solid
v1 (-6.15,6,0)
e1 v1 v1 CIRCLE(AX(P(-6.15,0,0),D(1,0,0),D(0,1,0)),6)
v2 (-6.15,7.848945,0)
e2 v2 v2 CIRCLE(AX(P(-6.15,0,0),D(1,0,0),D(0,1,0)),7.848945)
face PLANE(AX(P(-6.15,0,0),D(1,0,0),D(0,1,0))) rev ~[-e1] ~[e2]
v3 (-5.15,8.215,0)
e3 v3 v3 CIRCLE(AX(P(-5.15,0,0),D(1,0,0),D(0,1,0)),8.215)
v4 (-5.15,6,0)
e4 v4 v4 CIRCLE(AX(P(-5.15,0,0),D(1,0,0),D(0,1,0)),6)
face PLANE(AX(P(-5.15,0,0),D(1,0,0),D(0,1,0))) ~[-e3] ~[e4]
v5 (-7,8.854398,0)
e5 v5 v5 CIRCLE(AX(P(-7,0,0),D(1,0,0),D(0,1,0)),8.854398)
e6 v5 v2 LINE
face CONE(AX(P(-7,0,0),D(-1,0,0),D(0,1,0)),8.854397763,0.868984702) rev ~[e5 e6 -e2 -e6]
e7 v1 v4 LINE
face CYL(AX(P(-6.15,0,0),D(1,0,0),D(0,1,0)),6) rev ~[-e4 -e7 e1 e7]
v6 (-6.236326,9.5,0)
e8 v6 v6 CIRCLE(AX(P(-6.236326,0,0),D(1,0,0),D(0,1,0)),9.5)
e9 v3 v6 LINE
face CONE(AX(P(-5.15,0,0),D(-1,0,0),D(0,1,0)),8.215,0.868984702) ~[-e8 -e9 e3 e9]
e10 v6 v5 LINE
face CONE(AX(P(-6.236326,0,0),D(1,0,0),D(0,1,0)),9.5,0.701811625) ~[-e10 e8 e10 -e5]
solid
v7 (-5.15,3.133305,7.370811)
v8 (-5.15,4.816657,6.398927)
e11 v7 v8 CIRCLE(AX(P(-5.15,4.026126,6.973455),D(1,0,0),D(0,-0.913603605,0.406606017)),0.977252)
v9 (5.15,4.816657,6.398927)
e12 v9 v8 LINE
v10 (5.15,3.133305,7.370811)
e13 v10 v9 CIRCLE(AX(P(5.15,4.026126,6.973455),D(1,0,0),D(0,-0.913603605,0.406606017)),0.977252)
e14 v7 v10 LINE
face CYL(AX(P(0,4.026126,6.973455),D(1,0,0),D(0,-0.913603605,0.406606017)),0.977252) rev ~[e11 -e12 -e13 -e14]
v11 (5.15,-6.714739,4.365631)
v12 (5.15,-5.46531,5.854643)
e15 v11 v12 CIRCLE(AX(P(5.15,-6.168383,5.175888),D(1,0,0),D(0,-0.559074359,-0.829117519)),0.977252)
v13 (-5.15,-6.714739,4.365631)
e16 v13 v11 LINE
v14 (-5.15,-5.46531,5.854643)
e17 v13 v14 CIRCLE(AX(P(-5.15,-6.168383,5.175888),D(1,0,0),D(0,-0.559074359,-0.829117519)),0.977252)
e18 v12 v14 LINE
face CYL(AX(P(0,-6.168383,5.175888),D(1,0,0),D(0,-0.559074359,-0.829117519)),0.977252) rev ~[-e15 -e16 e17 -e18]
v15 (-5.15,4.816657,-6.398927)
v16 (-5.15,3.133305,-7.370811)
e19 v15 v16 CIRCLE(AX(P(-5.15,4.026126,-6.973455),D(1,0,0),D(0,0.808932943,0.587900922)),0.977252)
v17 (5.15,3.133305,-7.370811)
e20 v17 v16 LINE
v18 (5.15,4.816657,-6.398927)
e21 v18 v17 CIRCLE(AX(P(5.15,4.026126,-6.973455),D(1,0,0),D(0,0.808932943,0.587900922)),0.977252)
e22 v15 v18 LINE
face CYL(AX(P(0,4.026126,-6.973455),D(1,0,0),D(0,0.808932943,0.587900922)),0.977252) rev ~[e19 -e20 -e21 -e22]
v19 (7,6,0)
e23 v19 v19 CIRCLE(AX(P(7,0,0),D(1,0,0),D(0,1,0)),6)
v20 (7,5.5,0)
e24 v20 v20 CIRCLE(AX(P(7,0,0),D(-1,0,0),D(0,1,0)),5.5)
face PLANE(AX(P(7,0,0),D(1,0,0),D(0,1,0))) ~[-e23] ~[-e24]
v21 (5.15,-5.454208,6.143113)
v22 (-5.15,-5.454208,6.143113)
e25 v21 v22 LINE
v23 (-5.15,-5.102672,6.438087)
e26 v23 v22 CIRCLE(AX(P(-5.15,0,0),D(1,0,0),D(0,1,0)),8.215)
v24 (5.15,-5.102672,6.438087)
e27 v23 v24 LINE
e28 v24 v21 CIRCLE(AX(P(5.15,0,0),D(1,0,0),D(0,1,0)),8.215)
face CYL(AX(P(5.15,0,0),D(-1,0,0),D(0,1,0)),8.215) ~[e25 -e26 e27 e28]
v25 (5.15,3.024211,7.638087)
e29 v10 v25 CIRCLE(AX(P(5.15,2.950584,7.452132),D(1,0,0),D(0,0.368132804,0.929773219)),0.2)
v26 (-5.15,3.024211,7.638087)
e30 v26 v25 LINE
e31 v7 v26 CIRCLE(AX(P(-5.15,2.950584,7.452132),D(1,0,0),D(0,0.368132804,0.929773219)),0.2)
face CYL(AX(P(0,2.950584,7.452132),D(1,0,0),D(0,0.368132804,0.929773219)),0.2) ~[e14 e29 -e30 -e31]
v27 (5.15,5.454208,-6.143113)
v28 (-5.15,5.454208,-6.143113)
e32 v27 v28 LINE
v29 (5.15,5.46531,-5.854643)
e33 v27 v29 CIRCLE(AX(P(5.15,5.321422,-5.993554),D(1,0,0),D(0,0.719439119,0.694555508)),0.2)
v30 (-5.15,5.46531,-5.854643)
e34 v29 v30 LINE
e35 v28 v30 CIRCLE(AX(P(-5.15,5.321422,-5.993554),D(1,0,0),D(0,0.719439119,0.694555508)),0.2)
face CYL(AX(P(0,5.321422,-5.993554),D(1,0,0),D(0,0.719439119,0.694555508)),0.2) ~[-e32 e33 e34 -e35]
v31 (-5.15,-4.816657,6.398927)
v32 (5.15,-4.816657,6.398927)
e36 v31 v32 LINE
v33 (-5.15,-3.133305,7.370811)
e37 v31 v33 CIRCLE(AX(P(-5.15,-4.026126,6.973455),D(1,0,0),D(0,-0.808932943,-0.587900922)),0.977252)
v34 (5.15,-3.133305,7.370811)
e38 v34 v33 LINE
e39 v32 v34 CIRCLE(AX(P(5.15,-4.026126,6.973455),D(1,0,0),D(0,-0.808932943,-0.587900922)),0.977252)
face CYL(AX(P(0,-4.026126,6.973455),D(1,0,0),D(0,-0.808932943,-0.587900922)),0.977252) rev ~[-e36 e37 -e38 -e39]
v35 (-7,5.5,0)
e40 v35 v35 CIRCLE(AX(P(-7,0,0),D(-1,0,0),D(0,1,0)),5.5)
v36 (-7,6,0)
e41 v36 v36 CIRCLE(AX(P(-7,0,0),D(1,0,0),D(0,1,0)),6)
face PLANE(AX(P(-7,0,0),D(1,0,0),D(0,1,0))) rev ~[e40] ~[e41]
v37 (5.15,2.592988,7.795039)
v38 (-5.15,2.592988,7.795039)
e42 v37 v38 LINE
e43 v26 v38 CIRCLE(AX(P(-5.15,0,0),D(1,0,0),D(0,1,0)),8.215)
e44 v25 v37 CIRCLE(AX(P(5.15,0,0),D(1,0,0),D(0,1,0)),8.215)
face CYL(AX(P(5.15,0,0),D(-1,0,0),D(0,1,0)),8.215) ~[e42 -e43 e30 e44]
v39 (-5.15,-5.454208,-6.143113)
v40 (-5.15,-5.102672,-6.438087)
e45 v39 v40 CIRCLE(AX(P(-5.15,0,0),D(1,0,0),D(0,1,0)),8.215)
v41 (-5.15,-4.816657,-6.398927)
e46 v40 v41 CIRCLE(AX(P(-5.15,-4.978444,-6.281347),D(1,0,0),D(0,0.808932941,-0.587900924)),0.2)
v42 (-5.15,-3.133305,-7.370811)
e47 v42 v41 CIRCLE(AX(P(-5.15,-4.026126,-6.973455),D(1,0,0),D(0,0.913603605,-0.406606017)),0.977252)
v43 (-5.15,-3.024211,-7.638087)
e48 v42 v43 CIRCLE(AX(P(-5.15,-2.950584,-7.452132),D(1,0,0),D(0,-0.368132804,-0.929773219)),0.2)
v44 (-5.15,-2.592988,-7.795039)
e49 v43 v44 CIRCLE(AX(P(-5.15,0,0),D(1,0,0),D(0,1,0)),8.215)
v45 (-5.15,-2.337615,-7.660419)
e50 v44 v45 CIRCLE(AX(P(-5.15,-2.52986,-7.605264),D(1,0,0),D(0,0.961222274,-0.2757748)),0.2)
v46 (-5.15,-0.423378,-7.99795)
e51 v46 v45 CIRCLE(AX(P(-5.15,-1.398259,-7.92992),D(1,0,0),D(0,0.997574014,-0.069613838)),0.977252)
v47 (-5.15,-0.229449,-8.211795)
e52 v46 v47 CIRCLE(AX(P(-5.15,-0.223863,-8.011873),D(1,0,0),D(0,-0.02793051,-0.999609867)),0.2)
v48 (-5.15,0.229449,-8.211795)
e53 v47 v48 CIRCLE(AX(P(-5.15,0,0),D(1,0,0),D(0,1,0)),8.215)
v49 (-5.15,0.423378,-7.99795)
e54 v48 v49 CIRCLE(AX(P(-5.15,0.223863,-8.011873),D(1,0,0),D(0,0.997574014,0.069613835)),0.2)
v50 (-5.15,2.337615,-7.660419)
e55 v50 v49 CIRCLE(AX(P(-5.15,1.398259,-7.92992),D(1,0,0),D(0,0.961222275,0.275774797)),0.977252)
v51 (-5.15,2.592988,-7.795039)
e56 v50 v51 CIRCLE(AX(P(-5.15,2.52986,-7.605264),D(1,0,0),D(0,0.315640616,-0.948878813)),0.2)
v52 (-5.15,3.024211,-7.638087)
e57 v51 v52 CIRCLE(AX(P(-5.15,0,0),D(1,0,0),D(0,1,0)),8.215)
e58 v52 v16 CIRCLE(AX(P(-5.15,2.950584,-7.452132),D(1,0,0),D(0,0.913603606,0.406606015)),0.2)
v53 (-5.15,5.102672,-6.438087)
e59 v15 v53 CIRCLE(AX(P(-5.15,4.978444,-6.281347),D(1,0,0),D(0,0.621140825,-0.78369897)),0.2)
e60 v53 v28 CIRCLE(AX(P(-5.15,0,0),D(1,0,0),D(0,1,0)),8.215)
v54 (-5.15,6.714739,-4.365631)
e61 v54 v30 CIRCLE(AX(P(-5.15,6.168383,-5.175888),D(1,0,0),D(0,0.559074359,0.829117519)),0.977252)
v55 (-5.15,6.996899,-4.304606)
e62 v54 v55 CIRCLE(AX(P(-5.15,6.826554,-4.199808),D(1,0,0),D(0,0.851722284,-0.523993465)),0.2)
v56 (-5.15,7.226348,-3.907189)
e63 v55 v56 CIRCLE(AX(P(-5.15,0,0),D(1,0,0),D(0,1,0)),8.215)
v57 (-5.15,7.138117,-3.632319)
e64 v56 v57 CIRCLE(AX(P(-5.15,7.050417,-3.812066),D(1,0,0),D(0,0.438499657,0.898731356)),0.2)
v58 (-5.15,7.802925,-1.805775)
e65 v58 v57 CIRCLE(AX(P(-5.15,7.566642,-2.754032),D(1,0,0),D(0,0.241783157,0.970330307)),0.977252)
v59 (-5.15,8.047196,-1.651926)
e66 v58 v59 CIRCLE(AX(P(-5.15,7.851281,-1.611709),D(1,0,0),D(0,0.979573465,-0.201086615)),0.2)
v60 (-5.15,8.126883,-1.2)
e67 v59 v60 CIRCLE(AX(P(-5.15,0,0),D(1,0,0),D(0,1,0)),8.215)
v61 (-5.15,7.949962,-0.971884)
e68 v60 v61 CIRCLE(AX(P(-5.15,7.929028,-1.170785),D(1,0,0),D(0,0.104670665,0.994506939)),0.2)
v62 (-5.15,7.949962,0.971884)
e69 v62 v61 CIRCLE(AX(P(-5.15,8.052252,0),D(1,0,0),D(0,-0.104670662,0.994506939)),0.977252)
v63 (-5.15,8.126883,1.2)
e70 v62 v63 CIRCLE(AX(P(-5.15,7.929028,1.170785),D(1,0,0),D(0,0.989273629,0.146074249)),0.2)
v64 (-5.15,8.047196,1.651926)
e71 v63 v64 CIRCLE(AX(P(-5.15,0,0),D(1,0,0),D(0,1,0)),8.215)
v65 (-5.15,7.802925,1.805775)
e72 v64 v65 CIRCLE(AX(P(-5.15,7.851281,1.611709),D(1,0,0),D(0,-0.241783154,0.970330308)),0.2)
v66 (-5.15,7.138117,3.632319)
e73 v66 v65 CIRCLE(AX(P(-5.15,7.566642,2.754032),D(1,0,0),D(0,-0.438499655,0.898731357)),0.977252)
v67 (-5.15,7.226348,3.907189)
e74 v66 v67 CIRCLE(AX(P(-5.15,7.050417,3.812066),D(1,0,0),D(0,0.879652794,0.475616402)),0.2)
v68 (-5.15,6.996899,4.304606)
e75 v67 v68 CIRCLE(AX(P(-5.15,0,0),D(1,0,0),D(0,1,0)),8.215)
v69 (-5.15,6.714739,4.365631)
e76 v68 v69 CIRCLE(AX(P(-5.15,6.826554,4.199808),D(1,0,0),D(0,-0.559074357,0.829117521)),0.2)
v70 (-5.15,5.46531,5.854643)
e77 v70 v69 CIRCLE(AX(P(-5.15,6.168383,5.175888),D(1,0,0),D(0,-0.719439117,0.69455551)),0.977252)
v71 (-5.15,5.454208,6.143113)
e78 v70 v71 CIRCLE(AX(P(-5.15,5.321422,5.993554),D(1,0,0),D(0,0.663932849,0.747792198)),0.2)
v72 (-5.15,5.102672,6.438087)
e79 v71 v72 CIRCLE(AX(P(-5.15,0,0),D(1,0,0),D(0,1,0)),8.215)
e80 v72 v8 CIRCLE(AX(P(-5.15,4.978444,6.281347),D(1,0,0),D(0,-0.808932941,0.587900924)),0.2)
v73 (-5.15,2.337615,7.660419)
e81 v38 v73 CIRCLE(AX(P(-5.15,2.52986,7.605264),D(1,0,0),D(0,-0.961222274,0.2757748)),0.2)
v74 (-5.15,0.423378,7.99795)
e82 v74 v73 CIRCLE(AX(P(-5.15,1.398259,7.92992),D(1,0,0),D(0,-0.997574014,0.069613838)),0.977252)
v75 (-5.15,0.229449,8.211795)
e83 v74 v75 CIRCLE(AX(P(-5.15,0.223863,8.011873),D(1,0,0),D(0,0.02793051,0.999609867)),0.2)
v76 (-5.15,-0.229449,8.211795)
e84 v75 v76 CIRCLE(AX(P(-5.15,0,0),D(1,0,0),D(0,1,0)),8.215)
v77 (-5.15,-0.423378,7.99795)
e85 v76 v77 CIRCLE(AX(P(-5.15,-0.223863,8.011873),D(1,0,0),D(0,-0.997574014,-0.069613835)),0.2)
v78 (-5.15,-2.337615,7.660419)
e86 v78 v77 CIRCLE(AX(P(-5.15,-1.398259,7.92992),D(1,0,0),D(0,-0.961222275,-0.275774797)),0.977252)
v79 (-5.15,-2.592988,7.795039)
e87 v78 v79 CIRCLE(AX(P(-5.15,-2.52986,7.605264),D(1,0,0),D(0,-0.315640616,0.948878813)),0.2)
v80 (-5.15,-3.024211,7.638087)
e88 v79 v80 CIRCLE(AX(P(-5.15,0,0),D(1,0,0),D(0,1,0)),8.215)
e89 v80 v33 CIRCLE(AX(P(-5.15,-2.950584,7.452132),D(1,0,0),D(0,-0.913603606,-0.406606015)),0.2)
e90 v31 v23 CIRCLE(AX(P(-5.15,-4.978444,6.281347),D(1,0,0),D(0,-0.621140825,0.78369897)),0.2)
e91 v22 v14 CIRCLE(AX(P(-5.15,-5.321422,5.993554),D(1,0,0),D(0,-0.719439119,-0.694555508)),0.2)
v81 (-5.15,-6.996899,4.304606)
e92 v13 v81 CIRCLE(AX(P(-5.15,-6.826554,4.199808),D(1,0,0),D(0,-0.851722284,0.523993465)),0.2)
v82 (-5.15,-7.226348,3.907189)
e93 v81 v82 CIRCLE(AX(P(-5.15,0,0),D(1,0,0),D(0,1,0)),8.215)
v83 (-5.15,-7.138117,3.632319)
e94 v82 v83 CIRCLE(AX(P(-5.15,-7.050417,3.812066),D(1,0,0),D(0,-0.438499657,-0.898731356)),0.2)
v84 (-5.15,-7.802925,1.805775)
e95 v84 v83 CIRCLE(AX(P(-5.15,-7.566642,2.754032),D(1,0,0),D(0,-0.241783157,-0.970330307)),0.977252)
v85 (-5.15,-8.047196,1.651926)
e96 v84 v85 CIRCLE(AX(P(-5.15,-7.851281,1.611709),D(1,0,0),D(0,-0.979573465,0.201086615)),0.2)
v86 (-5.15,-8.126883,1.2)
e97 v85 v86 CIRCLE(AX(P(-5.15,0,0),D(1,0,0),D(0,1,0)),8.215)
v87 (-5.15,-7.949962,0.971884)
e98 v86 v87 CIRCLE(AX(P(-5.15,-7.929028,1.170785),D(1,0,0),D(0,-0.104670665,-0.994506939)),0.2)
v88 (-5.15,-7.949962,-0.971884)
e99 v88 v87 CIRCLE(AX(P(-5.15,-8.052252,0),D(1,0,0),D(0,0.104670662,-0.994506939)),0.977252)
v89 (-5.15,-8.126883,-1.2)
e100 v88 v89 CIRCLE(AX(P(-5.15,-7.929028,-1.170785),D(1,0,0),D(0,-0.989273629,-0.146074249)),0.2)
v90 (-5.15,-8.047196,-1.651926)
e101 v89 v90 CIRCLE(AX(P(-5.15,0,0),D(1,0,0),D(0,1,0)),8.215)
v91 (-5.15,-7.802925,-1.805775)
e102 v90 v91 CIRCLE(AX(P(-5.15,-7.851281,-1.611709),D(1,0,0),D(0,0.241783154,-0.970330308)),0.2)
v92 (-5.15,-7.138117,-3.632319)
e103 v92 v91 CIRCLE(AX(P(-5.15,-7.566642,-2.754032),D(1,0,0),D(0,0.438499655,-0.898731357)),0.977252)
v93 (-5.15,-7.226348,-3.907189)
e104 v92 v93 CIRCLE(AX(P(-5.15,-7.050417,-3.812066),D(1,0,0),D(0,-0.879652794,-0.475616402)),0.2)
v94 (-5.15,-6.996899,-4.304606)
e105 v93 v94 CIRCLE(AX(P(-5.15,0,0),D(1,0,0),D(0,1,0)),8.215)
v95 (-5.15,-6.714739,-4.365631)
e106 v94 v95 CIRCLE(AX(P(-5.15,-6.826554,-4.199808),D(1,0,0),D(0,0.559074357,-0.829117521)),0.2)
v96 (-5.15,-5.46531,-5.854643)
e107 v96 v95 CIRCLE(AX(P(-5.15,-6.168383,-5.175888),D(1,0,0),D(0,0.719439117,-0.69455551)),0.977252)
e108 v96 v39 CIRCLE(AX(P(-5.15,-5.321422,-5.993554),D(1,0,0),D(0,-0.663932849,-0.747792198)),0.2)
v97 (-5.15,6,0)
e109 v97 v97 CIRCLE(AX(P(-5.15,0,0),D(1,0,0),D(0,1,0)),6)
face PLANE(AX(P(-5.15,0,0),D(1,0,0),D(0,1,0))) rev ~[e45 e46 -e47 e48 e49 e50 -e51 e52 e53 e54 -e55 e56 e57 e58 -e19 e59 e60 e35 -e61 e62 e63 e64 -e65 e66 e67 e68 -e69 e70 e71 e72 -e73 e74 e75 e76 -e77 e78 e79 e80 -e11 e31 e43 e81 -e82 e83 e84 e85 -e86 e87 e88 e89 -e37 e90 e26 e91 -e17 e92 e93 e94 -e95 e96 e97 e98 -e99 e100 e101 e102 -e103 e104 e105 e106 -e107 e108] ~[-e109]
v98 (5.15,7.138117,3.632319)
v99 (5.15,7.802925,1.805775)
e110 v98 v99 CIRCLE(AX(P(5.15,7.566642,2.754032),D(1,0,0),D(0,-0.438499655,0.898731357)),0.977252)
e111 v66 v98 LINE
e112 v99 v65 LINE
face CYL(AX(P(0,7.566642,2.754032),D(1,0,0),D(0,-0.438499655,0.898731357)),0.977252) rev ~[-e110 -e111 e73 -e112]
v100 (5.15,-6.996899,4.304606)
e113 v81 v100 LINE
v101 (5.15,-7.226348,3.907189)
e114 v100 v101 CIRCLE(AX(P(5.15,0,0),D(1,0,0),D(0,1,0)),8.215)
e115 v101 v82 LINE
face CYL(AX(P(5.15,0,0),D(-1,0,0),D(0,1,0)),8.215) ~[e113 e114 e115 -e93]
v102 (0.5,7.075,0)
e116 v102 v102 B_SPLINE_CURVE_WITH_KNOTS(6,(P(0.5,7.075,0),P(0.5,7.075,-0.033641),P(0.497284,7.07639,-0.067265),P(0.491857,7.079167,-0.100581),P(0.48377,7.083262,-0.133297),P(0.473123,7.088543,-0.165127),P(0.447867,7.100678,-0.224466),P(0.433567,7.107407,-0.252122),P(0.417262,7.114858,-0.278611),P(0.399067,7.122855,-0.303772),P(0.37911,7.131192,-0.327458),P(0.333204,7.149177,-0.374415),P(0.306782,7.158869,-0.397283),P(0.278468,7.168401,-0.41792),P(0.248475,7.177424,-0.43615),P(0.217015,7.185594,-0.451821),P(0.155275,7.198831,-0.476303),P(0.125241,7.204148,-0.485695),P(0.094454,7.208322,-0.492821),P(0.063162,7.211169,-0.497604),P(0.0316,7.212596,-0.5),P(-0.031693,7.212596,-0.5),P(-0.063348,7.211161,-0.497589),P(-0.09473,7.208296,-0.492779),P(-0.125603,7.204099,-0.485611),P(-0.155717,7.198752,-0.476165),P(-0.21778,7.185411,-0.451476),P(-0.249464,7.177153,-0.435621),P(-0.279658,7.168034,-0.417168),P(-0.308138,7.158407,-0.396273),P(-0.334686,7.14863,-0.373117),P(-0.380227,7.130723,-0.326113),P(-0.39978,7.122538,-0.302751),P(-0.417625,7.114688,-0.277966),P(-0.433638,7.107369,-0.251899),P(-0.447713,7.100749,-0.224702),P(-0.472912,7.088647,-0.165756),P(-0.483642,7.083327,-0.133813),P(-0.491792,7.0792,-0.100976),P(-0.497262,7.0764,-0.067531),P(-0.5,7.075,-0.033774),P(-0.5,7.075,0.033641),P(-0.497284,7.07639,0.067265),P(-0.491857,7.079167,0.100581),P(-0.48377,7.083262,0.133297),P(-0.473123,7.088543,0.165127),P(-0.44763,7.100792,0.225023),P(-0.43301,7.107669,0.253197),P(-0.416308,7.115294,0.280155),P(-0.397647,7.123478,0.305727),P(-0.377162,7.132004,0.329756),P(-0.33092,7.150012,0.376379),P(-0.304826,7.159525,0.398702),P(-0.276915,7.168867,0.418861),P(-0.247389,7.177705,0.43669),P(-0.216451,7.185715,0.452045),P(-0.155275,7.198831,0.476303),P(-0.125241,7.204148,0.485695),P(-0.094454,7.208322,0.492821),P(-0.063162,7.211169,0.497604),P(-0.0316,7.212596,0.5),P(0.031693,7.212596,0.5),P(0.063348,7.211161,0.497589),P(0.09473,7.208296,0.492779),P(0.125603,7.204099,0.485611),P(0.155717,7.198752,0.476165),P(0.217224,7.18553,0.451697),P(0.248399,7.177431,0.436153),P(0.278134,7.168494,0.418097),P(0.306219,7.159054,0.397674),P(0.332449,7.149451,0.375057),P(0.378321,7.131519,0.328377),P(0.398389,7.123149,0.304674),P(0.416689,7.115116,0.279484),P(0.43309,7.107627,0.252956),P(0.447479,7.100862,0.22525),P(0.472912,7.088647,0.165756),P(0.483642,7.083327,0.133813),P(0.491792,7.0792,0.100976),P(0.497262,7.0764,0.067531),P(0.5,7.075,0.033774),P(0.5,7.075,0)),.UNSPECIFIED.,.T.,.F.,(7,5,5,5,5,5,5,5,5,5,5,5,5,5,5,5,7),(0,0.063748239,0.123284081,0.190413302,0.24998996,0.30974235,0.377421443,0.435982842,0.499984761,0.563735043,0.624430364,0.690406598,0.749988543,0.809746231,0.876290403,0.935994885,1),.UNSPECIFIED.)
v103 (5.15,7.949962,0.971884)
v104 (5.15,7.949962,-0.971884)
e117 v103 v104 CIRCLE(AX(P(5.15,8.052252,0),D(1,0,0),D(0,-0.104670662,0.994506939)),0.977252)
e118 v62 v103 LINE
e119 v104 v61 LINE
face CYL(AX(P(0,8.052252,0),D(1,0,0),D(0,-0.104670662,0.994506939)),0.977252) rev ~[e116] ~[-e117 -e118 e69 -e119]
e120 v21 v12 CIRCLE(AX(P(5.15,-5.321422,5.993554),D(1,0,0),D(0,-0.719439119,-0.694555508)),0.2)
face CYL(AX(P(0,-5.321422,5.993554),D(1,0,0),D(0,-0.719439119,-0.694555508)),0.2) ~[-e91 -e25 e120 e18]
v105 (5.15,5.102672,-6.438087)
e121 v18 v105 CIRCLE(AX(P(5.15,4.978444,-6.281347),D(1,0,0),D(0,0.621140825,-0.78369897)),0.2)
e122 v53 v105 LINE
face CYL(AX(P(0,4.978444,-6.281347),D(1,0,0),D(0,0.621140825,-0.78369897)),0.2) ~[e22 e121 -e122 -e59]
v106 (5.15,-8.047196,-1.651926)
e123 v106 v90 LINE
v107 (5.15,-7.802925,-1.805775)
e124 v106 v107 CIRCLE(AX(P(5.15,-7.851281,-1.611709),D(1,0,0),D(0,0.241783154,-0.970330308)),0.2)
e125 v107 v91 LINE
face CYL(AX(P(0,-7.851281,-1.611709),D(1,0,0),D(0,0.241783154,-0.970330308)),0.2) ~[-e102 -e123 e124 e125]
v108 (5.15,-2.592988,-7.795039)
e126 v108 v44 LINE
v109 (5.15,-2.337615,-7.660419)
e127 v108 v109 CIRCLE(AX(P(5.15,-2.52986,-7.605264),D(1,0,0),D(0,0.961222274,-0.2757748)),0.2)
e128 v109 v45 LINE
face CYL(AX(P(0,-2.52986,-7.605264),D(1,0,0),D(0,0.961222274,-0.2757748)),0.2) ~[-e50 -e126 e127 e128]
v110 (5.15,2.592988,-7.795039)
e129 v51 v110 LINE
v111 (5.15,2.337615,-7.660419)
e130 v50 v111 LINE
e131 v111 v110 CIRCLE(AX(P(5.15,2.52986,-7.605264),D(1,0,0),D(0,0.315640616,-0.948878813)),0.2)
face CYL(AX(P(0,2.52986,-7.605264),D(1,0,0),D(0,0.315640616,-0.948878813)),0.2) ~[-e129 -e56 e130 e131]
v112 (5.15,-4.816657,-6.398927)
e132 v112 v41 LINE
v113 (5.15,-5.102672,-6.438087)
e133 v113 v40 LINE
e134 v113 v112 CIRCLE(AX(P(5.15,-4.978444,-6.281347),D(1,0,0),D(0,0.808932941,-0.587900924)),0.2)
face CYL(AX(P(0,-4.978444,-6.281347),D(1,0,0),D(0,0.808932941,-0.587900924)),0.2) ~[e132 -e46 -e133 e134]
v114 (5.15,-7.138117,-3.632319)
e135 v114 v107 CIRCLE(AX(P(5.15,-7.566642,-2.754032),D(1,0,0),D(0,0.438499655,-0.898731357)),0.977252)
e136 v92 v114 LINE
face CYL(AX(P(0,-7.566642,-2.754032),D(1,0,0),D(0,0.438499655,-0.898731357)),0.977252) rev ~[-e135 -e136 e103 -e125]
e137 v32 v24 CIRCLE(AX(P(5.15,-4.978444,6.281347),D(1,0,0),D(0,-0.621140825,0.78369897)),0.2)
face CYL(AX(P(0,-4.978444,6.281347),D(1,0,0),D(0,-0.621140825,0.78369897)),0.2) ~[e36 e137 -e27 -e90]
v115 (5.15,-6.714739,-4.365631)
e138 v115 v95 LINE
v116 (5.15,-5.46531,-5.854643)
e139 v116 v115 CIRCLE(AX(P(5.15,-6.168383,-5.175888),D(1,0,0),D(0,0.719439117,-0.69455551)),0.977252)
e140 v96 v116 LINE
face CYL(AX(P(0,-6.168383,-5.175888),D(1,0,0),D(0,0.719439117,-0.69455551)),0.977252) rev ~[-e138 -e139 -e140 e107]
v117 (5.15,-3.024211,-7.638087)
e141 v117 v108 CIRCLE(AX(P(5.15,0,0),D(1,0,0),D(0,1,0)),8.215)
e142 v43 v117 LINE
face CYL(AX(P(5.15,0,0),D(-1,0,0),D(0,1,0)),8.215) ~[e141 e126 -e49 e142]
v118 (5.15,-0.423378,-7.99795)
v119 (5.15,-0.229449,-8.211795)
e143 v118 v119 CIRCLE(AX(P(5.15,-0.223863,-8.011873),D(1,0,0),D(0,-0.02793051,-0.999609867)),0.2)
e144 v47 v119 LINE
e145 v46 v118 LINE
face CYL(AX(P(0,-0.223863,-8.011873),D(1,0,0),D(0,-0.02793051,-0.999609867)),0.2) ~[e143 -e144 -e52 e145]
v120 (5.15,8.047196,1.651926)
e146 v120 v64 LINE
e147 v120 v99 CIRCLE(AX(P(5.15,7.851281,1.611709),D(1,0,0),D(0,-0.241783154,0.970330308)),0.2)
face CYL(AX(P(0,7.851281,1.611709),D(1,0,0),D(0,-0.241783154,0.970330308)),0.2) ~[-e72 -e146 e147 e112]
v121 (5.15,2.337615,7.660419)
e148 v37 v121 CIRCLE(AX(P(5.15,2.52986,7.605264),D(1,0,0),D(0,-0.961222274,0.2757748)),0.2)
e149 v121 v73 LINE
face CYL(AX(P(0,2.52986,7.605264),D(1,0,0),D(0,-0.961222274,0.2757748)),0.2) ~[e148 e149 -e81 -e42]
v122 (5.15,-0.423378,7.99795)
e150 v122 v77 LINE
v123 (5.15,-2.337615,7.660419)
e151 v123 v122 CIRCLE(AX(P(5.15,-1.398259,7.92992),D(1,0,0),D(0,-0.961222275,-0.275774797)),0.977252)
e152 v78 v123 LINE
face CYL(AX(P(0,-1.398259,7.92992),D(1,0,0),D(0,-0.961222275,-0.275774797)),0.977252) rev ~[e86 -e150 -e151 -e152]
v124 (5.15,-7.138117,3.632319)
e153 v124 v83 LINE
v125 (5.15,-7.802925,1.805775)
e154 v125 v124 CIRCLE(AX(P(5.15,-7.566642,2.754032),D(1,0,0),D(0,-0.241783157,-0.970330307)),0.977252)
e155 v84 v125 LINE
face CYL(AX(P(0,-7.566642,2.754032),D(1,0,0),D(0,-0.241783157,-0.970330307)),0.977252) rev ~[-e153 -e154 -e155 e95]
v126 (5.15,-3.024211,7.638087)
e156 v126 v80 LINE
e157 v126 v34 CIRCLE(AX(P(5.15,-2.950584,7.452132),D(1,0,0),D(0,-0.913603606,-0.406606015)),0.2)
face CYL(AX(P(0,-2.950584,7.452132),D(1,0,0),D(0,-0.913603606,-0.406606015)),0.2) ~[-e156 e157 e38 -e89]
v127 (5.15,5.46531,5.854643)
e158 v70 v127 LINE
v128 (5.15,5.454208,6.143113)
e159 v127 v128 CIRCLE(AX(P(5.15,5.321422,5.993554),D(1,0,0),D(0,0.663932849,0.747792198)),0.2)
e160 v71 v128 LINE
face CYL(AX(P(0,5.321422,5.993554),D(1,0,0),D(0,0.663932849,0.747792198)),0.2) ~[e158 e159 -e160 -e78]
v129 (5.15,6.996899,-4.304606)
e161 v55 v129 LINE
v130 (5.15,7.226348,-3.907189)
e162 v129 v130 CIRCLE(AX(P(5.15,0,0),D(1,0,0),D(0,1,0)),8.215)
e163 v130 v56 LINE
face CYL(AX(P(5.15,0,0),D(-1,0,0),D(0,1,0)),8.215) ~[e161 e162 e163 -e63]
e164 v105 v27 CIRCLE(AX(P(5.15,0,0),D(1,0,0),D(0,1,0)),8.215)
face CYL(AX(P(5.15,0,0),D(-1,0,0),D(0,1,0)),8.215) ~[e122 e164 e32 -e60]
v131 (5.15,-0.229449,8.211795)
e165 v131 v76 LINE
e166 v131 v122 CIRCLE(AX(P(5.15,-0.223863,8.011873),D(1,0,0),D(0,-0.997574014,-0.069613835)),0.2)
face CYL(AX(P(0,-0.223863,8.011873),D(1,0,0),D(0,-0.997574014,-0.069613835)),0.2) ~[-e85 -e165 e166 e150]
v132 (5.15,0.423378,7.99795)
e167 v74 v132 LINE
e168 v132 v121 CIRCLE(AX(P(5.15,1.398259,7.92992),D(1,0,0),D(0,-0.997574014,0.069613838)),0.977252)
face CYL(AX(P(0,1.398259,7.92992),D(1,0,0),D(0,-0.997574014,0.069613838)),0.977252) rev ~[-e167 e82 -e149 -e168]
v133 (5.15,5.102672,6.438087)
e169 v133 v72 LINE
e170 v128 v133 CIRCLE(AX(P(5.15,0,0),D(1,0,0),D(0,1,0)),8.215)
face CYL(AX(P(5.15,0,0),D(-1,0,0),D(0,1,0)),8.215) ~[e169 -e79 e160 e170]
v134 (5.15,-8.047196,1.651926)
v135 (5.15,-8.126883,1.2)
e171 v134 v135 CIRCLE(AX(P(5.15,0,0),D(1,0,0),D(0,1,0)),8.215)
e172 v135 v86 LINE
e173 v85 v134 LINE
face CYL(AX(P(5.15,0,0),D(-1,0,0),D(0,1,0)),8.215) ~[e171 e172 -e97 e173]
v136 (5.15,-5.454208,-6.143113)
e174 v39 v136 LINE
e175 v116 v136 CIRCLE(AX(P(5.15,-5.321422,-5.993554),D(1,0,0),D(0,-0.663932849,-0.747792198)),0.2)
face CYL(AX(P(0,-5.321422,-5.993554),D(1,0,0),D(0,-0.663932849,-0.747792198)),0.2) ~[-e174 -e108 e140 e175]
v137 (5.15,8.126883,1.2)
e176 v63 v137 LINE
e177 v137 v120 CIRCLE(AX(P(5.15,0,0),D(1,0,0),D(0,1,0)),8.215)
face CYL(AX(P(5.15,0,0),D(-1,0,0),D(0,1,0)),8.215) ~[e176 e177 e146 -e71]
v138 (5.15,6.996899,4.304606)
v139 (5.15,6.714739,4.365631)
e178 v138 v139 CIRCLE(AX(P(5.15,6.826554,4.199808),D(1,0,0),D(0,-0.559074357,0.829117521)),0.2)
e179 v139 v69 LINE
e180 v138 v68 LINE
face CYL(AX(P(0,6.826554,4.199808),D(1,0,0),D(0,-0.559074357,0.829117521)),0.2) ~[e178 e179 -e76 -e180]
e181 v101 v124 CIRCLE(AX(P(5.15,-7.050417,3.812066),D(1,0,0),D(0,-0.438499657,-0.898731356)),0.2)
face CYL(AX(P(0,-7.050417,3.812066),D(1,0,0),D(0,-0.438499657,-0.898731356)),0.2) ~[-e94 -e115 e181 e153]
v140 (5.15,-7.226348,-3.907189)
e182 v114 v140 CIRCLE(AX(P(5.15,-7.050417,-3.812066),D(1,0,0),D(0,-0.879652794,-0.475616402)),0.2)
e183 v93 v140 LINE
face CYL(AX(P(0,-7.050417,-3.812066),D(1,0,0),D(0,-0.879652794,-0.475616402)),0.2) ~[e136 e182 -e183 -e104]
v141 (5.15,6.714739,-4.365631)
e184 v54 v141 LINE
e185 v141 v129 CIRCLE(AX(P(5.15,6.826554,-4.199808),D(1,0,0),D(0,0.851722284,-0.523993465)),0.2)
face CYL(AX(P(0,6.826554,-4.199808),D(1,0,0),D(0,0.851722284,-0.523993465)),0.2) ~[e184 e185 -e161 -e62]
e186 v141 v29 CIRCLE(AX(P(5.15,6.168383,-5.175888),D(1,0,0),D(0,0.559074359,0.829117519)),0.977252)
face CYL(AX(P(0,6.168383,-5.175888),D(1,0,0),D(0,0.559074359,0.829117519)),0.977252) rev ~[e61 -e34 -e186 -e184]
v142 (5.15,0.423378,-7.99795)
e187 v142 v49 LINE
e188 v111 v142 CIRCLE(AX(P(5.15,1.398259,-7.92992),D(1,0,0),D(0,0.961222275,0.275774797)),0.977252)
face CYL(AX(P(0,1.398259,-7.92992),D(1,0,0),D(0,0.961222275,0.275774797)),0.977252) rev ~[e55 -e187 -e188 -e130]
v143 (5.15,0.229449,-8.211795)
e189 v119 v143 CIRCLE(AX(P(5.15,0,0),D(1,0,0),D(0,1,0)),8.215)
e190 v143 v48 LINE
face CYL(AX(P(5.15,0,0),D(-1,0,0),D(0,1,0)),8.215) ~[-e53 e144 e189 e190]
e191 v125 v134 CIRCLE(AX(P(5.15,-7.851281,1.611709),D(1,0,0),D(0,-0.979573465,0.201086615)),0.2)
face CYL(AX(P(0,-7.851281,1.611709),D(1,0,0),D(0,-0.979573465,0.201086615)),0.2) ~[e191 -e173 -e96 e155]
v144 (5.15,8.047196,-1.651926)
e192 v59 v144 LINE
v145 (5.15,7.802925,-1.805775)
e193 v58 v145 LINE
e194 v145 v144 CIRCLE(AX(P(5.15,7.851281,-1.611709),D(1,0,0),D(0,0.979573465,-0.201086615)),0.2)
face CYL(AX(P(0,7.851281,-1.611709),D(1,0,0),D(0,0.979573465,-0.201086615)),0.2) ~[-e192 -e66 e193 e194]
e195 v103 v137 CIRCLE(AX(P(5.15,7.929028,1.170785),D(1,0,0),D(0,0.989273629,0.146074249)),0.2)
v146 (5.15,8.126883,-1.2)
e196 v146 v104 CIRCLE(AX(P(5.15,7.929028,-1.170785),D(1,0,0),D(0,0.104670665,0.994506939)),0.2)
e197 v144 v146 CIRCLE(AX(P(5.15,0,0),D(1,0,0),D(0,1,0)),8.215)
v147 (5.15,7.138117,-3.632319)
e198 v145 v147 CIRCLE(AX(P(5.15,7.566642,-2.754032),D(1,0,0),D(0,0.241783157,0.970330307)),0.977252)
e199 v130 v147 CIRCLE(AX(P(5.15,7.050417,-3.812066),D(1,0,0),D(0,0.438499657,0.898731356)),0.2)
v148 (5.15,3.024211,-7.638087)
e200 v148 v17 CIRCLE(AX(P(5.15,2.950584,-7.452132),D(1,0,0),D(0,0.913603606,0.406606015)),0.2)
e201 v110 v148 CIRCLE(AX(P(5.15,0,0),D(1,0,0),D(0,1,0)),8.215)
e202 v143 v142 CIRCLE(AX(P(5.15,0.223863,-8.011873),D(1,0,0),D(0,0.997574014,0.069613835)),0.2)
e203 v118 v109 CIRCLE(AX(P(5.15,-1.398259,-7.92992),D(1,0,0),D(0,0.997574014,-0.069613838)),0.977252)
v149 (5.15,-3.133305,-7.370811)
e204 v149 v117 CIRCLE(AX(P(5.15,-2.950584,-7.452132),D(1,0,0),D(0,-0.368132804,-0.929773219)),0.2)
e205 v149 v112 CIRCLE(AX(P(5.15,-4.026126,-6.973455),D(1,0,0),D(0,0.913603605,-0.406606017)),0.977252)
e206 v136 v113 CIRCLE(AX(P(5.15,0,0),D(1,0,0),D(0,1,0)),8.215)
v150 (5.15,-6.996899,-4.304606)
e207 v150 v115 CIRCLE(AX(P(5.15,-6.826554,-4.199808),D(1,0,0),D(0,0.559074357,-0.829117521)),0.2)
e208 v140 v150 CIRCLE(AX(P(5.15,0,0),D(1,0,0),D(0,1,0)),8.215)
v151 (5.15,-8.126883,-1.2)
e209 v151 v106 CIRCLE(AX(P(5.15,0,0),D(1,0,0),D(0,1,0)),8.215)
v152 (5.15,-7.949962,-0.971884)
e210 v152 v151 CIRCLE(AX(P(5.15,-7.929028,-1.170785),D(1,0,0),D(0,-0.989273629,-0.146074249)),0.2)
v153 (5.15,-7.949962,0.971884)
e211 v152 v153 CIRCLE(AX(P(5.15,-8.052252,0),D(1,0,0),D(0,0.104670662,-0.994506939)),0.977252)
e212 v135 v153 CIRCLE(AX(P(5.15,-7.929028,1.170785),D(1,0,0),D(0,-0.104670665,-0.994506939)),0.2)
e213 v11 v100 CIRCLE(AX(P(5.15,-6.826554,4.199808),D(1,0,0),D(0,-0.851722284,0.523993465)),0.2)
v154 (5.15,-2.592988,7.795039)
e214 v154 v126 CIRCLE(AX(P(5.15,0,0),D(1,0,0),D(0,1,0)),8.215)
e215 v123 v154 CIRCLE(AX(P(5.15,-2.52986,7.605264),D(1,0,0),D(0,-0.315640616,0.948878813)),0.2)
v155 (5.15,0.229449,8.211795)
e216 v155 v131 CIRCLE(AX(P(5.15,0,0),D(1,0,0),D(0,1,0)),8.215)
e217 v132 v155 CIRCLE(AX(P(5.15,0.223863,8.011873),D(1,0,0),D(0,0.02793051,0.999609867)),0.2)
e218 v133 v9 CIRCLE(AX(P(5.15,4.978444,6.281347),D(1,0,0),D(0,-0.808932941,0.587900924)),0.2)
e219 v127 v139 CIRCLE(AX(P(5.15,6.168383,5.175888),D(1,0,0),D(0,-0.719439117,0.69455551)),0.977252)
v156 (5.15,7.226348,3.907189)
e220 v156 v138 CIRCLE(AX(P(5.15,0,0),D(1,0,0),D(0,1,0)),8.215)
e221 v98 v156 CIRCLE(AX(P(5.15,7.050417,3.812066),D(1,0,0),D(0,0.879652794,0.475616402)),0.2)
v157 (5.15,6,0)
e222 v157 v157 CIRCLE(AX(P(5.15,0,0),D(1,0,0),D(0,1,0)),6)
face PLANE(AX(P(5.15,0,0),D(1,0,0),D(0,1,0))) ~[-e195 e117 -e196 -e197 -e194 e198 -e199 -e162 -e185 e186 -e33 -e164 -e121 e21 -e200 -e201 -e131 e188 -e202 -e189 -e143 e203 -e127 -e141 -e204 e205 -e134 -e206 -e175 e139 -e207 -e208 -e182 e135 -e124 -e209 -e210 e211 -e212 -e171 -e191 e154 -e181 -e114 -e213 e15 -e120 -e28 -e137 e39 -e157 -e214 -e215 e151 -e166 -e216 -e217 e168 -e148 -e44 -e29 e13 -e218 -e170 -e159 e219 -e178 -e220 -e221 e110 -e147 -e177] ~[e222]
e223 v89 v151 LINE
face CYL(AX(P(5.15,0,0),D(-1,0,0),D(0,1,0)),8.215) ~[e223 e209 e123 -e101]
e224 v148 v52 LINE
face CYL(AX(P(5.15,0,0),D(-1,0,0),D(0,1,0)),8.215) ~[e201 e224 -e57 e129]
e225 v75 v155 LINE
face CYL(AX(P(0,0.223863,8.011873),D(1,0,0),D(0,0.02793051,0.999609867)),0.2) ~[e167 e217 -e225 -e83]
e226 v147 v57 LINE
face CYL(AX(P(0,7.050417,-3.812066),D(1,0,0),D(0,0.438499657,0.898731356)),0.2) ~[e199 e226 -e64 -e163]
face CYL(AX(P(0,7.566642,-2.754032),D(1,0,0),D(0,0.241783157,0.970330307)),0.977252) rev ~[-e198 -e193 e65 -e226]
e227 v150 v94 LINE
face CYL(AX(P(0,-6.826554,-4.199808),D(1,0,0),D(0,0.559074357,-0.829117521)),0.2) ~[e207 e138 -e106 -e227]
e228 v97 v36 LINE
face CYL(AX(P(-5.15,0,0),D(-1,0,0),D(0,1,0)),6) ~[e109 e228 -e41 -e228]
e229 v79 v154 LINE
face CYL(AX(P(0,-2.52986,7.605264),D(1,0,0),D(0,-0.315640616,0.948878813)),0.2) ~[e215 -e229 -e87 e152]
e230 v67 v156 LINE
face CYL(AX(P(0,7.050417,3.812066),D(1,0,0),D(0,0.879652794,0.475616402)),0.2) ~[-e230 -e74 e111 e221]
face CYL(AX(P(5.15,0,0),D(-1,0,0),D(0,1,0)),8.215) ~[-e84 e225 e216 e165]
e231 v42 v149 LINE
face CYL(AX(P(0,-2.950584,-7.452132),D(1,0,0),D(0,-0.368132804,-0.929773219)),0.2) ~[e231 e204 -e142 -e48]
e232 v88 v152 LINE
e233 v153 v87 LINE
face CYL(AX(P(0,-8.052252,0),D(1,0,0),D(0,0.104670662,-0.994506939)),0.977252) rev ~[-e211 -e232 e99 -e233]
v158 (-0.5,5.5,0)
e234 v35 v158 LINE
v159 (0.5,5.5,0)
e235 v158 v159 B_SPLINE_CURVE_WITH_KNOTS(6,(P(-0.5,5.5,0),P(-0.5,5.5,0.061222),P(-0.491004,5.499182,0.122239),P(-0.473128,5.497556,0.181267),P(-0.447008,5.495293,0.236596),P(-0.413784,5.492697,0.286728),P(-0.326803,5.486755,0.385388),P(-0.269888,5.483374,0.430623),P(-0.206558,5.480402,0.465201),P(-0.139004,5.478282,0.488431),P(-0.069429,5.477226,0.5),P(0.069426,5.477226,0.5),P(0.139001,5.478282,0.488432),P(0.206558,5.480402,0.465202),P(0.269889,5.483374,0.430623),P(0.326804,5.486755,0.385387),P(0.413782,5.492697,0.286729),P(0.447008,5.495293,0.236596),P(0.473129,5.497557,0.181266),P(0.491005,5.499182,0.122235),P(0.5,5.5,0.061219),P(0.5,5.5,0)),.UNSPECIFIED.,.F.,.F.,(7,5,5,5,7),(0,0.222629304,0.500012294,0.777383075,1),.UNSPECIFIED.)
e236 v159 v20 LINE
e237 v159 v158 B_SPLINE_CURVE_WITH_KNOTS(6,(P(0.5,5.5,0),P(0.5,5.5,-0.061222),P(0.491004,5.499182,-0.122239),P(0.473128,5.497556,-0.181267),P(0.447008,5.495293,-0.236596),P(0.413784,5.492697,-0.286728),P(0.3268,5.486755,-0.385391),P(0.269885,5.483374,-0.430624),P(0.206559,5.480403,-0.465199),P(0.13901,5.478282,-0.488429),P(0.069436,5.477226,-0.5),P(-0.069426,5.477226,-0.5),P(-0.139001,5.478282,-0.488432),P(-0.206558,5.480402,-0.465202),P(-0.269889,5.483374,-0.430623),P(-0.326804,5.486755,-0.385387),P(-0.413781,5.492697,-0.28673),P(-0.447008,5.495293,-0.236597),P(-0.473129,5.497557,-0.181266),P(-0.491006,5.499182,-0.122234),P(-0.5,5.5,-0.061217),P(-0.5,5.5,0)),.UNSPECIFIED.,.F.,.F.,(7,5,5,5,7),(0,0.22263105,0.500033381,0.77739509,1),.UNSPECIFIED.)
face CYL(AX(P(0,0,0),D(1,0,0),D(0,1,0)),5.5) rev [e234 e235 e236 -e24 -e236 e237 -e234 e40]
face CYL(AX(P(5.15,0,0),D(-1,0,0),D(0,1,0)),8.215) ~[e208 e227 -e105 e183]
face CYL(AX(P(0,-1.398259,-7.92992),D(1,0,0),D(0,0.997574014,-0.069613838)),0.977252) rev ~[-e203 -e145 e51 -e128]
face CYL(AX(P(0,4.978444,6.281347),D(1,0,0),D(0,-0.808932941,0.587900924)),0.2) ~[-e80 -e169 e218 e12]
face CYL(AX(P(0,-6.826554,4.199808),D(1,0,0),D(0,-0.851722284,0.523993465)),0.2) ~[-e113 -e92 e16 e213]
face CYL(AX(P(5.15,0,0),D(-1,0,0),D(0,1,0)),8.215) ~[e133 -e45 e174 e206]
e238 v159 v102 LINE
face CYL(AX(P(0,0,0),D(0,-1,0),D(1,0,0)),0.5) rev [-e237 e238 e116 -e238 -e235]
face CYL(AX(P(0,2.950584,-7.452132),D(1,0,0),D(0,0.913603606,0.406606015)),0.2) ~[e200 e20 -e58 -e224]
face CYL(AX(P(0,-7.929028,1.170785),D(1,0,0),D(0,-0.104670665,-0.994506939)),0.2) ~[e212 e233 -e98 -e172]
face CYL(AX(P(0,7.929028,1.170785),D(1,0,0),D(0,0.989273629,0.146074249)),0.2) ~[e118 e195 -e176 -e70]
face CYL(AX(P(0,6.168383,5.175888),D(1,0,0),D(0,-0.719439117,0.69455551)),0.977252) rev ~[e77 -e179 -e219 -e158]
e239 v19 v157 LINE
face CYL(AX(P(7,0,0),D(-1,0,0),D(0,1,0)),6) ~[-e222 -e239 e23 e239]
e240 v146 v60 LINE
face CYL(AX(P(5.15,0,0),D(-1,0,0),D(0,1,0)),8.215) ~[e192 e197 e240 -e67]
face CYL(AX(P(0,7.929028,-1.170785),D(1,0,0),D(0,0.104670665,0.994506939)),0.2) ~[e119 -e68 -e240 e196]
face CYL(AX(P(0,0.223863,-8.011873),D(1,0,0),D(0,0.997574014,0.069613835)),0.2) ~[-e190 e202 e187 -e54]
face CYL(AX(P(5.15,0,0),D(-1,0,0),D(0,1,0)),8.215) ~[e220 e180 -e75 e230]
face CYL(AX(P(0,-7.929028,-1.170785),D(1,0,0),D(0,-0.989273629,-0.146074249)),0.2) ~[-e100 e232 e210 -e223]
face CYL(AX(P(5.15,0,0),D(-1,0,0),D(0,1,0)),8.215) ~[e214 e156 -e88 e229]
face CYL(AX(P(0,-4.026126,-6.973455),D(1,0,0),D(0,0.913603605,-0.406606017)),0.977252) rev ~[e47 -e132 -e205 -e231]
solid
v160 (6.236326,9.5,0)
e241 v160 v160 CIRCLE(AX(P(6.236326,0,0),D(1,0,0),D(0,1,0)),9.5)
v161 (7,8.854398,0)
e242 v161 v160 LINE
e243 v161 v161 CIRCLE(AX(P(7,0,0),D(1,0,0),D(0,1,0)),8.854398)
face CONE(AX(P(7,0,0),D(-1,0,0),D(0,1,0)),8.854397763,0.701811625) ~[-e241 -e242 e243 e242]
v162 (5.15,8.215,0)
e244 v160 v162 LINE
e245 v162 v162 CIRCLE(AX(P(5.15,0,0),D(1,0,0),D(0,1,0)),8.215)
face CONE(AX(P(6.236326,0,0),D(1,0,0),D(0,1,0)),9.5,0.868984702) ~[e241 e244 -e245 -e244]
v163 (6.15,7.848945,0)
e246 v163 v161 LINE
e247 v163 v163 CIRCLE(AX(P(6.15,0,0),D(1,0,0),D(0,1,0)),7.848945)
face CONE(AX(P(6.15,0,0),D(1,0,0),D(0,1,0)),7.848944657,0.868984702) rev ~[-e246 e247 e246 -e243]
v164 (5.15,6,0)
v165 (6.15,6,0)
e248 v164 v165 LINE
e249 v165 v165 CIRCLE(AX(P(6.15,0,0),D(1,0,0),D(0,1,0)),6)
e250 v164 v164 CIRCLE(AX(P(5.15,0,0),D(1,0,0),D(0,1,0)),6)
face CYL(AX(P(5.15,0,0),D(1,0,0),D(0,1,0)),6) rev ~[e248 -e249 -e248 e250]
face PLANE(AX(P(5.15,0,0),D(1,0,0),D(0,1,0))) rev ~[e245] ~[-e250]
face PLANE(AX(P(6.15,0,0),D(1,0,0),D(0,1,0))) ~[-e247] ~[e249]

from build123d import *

# Parameters (mm, degrees)
CUT_EXTRUDE1_DEPTH = 8
CIRPATTERN1_COUNT  = 18
SKETCH4_W          = 14
SKETCH4_H          = 5.5
SKETCH5_R          = 0.5
CUT_EXTRUDE2_DEPTH = 10.5


with BuildPart() as part:
    # Sketch1 → Revolve1 (revolve)
    with BuildSketch(Plane.XY):
        Polygon((-7, 4), (7, 4), (7, 6), (5.15, 6), (5.15, 8.215), (-5.15, 8.215), (-5.15, 6), (-7, 6), align=None)
    revolve(axis=Axis((-16.041522885, 0, 0), (1, 0, 0)))

    # Sketch2 → Cut-Extrude1 (cut, symmetric)
    with BuildSketch(Plane(origin=(0, 0, 0), x_dir=(0, 0, -1), z_dir=(1, 0, 0))):
        with BuildLine():
            ThreePointArc((1.2, 8.126882859), (0, 8.215), (-1.2, 8.126882859))
            ThreePointArc((-1.2, 8.126882859), (-1.048214336, 8.087067355), (-0.971883761, 7.949962265))
            ThreePointArc((-0.971883761, 7.949962265), (0, 7.075), (0.971883761, 7.949962265))
            ThreePointArc((0.971883761, 7.949962265), (1.048214336, 8.087067355), (1.2, 8.126882859))
        make_face()
    cut_extrude1 = extrude(amount=CUT_EXTRUDE1_DEPTH, both=True, mode=Mode.SUBTRACT)

    # CirPattern1: Cut-Extrude1 ×18 about axis
    cirpattern1_axis = Axis((0, 0, 0), (1, 0, 0))
    for i in range(1, CIRPATTERN1_COUNT):
        add(cut_extrude1.rotate(cirpattern1_axis, i * 360 / CIRPATTERN1_COUNT), mode=Mode.SUBTRACT)

    # Sketch4 → Cut-Revolve1 (revolve, cut)
    with BuildSketch(Plane.XY):
        with Locations((0, 2.75)):
            Rectangle(SKETCH4_W, SKETCH4_H)
    revolve(axis=Axis((0, 0, 0), (-1, 0, 0)), mode=Mode.SUBTRACT)

    # Sketch5 → Cut-Extrude2 (cut, through all)
    with BuildSketch(Plane(origin=(0, 0, 0), x_dir=(1, 0, 0), z_dir=(0, 1, 0))):
        Circle(SKETCH5_R)
    extrude(amount=CUT_EXTRUDE2_DEPTH, mode=Mode.SUBTRACT)


with BuildPart() as body_2:
    # Sketch3 → Revolve2 (revolve)
    with BuildSketch(Plane.XY):
        Polygon((5.15, 6), (6.15, 6), (6.15, 7.848944657), (7, 8.854397763), (6.236326148, 9.5), (5.15, 8.215), align=None)
        Polygon((-5.15, 6), (-5.15, 8.215), (-6.236326148, 9.5), (-7, 8.854397763), (-6.15, 7.848944657), (-6.15, 6), align=None)
    revolve(axis=Axis((0, 0, 0), (1, 0, 0)))


solid = Compound([part.part, body_2.part])
